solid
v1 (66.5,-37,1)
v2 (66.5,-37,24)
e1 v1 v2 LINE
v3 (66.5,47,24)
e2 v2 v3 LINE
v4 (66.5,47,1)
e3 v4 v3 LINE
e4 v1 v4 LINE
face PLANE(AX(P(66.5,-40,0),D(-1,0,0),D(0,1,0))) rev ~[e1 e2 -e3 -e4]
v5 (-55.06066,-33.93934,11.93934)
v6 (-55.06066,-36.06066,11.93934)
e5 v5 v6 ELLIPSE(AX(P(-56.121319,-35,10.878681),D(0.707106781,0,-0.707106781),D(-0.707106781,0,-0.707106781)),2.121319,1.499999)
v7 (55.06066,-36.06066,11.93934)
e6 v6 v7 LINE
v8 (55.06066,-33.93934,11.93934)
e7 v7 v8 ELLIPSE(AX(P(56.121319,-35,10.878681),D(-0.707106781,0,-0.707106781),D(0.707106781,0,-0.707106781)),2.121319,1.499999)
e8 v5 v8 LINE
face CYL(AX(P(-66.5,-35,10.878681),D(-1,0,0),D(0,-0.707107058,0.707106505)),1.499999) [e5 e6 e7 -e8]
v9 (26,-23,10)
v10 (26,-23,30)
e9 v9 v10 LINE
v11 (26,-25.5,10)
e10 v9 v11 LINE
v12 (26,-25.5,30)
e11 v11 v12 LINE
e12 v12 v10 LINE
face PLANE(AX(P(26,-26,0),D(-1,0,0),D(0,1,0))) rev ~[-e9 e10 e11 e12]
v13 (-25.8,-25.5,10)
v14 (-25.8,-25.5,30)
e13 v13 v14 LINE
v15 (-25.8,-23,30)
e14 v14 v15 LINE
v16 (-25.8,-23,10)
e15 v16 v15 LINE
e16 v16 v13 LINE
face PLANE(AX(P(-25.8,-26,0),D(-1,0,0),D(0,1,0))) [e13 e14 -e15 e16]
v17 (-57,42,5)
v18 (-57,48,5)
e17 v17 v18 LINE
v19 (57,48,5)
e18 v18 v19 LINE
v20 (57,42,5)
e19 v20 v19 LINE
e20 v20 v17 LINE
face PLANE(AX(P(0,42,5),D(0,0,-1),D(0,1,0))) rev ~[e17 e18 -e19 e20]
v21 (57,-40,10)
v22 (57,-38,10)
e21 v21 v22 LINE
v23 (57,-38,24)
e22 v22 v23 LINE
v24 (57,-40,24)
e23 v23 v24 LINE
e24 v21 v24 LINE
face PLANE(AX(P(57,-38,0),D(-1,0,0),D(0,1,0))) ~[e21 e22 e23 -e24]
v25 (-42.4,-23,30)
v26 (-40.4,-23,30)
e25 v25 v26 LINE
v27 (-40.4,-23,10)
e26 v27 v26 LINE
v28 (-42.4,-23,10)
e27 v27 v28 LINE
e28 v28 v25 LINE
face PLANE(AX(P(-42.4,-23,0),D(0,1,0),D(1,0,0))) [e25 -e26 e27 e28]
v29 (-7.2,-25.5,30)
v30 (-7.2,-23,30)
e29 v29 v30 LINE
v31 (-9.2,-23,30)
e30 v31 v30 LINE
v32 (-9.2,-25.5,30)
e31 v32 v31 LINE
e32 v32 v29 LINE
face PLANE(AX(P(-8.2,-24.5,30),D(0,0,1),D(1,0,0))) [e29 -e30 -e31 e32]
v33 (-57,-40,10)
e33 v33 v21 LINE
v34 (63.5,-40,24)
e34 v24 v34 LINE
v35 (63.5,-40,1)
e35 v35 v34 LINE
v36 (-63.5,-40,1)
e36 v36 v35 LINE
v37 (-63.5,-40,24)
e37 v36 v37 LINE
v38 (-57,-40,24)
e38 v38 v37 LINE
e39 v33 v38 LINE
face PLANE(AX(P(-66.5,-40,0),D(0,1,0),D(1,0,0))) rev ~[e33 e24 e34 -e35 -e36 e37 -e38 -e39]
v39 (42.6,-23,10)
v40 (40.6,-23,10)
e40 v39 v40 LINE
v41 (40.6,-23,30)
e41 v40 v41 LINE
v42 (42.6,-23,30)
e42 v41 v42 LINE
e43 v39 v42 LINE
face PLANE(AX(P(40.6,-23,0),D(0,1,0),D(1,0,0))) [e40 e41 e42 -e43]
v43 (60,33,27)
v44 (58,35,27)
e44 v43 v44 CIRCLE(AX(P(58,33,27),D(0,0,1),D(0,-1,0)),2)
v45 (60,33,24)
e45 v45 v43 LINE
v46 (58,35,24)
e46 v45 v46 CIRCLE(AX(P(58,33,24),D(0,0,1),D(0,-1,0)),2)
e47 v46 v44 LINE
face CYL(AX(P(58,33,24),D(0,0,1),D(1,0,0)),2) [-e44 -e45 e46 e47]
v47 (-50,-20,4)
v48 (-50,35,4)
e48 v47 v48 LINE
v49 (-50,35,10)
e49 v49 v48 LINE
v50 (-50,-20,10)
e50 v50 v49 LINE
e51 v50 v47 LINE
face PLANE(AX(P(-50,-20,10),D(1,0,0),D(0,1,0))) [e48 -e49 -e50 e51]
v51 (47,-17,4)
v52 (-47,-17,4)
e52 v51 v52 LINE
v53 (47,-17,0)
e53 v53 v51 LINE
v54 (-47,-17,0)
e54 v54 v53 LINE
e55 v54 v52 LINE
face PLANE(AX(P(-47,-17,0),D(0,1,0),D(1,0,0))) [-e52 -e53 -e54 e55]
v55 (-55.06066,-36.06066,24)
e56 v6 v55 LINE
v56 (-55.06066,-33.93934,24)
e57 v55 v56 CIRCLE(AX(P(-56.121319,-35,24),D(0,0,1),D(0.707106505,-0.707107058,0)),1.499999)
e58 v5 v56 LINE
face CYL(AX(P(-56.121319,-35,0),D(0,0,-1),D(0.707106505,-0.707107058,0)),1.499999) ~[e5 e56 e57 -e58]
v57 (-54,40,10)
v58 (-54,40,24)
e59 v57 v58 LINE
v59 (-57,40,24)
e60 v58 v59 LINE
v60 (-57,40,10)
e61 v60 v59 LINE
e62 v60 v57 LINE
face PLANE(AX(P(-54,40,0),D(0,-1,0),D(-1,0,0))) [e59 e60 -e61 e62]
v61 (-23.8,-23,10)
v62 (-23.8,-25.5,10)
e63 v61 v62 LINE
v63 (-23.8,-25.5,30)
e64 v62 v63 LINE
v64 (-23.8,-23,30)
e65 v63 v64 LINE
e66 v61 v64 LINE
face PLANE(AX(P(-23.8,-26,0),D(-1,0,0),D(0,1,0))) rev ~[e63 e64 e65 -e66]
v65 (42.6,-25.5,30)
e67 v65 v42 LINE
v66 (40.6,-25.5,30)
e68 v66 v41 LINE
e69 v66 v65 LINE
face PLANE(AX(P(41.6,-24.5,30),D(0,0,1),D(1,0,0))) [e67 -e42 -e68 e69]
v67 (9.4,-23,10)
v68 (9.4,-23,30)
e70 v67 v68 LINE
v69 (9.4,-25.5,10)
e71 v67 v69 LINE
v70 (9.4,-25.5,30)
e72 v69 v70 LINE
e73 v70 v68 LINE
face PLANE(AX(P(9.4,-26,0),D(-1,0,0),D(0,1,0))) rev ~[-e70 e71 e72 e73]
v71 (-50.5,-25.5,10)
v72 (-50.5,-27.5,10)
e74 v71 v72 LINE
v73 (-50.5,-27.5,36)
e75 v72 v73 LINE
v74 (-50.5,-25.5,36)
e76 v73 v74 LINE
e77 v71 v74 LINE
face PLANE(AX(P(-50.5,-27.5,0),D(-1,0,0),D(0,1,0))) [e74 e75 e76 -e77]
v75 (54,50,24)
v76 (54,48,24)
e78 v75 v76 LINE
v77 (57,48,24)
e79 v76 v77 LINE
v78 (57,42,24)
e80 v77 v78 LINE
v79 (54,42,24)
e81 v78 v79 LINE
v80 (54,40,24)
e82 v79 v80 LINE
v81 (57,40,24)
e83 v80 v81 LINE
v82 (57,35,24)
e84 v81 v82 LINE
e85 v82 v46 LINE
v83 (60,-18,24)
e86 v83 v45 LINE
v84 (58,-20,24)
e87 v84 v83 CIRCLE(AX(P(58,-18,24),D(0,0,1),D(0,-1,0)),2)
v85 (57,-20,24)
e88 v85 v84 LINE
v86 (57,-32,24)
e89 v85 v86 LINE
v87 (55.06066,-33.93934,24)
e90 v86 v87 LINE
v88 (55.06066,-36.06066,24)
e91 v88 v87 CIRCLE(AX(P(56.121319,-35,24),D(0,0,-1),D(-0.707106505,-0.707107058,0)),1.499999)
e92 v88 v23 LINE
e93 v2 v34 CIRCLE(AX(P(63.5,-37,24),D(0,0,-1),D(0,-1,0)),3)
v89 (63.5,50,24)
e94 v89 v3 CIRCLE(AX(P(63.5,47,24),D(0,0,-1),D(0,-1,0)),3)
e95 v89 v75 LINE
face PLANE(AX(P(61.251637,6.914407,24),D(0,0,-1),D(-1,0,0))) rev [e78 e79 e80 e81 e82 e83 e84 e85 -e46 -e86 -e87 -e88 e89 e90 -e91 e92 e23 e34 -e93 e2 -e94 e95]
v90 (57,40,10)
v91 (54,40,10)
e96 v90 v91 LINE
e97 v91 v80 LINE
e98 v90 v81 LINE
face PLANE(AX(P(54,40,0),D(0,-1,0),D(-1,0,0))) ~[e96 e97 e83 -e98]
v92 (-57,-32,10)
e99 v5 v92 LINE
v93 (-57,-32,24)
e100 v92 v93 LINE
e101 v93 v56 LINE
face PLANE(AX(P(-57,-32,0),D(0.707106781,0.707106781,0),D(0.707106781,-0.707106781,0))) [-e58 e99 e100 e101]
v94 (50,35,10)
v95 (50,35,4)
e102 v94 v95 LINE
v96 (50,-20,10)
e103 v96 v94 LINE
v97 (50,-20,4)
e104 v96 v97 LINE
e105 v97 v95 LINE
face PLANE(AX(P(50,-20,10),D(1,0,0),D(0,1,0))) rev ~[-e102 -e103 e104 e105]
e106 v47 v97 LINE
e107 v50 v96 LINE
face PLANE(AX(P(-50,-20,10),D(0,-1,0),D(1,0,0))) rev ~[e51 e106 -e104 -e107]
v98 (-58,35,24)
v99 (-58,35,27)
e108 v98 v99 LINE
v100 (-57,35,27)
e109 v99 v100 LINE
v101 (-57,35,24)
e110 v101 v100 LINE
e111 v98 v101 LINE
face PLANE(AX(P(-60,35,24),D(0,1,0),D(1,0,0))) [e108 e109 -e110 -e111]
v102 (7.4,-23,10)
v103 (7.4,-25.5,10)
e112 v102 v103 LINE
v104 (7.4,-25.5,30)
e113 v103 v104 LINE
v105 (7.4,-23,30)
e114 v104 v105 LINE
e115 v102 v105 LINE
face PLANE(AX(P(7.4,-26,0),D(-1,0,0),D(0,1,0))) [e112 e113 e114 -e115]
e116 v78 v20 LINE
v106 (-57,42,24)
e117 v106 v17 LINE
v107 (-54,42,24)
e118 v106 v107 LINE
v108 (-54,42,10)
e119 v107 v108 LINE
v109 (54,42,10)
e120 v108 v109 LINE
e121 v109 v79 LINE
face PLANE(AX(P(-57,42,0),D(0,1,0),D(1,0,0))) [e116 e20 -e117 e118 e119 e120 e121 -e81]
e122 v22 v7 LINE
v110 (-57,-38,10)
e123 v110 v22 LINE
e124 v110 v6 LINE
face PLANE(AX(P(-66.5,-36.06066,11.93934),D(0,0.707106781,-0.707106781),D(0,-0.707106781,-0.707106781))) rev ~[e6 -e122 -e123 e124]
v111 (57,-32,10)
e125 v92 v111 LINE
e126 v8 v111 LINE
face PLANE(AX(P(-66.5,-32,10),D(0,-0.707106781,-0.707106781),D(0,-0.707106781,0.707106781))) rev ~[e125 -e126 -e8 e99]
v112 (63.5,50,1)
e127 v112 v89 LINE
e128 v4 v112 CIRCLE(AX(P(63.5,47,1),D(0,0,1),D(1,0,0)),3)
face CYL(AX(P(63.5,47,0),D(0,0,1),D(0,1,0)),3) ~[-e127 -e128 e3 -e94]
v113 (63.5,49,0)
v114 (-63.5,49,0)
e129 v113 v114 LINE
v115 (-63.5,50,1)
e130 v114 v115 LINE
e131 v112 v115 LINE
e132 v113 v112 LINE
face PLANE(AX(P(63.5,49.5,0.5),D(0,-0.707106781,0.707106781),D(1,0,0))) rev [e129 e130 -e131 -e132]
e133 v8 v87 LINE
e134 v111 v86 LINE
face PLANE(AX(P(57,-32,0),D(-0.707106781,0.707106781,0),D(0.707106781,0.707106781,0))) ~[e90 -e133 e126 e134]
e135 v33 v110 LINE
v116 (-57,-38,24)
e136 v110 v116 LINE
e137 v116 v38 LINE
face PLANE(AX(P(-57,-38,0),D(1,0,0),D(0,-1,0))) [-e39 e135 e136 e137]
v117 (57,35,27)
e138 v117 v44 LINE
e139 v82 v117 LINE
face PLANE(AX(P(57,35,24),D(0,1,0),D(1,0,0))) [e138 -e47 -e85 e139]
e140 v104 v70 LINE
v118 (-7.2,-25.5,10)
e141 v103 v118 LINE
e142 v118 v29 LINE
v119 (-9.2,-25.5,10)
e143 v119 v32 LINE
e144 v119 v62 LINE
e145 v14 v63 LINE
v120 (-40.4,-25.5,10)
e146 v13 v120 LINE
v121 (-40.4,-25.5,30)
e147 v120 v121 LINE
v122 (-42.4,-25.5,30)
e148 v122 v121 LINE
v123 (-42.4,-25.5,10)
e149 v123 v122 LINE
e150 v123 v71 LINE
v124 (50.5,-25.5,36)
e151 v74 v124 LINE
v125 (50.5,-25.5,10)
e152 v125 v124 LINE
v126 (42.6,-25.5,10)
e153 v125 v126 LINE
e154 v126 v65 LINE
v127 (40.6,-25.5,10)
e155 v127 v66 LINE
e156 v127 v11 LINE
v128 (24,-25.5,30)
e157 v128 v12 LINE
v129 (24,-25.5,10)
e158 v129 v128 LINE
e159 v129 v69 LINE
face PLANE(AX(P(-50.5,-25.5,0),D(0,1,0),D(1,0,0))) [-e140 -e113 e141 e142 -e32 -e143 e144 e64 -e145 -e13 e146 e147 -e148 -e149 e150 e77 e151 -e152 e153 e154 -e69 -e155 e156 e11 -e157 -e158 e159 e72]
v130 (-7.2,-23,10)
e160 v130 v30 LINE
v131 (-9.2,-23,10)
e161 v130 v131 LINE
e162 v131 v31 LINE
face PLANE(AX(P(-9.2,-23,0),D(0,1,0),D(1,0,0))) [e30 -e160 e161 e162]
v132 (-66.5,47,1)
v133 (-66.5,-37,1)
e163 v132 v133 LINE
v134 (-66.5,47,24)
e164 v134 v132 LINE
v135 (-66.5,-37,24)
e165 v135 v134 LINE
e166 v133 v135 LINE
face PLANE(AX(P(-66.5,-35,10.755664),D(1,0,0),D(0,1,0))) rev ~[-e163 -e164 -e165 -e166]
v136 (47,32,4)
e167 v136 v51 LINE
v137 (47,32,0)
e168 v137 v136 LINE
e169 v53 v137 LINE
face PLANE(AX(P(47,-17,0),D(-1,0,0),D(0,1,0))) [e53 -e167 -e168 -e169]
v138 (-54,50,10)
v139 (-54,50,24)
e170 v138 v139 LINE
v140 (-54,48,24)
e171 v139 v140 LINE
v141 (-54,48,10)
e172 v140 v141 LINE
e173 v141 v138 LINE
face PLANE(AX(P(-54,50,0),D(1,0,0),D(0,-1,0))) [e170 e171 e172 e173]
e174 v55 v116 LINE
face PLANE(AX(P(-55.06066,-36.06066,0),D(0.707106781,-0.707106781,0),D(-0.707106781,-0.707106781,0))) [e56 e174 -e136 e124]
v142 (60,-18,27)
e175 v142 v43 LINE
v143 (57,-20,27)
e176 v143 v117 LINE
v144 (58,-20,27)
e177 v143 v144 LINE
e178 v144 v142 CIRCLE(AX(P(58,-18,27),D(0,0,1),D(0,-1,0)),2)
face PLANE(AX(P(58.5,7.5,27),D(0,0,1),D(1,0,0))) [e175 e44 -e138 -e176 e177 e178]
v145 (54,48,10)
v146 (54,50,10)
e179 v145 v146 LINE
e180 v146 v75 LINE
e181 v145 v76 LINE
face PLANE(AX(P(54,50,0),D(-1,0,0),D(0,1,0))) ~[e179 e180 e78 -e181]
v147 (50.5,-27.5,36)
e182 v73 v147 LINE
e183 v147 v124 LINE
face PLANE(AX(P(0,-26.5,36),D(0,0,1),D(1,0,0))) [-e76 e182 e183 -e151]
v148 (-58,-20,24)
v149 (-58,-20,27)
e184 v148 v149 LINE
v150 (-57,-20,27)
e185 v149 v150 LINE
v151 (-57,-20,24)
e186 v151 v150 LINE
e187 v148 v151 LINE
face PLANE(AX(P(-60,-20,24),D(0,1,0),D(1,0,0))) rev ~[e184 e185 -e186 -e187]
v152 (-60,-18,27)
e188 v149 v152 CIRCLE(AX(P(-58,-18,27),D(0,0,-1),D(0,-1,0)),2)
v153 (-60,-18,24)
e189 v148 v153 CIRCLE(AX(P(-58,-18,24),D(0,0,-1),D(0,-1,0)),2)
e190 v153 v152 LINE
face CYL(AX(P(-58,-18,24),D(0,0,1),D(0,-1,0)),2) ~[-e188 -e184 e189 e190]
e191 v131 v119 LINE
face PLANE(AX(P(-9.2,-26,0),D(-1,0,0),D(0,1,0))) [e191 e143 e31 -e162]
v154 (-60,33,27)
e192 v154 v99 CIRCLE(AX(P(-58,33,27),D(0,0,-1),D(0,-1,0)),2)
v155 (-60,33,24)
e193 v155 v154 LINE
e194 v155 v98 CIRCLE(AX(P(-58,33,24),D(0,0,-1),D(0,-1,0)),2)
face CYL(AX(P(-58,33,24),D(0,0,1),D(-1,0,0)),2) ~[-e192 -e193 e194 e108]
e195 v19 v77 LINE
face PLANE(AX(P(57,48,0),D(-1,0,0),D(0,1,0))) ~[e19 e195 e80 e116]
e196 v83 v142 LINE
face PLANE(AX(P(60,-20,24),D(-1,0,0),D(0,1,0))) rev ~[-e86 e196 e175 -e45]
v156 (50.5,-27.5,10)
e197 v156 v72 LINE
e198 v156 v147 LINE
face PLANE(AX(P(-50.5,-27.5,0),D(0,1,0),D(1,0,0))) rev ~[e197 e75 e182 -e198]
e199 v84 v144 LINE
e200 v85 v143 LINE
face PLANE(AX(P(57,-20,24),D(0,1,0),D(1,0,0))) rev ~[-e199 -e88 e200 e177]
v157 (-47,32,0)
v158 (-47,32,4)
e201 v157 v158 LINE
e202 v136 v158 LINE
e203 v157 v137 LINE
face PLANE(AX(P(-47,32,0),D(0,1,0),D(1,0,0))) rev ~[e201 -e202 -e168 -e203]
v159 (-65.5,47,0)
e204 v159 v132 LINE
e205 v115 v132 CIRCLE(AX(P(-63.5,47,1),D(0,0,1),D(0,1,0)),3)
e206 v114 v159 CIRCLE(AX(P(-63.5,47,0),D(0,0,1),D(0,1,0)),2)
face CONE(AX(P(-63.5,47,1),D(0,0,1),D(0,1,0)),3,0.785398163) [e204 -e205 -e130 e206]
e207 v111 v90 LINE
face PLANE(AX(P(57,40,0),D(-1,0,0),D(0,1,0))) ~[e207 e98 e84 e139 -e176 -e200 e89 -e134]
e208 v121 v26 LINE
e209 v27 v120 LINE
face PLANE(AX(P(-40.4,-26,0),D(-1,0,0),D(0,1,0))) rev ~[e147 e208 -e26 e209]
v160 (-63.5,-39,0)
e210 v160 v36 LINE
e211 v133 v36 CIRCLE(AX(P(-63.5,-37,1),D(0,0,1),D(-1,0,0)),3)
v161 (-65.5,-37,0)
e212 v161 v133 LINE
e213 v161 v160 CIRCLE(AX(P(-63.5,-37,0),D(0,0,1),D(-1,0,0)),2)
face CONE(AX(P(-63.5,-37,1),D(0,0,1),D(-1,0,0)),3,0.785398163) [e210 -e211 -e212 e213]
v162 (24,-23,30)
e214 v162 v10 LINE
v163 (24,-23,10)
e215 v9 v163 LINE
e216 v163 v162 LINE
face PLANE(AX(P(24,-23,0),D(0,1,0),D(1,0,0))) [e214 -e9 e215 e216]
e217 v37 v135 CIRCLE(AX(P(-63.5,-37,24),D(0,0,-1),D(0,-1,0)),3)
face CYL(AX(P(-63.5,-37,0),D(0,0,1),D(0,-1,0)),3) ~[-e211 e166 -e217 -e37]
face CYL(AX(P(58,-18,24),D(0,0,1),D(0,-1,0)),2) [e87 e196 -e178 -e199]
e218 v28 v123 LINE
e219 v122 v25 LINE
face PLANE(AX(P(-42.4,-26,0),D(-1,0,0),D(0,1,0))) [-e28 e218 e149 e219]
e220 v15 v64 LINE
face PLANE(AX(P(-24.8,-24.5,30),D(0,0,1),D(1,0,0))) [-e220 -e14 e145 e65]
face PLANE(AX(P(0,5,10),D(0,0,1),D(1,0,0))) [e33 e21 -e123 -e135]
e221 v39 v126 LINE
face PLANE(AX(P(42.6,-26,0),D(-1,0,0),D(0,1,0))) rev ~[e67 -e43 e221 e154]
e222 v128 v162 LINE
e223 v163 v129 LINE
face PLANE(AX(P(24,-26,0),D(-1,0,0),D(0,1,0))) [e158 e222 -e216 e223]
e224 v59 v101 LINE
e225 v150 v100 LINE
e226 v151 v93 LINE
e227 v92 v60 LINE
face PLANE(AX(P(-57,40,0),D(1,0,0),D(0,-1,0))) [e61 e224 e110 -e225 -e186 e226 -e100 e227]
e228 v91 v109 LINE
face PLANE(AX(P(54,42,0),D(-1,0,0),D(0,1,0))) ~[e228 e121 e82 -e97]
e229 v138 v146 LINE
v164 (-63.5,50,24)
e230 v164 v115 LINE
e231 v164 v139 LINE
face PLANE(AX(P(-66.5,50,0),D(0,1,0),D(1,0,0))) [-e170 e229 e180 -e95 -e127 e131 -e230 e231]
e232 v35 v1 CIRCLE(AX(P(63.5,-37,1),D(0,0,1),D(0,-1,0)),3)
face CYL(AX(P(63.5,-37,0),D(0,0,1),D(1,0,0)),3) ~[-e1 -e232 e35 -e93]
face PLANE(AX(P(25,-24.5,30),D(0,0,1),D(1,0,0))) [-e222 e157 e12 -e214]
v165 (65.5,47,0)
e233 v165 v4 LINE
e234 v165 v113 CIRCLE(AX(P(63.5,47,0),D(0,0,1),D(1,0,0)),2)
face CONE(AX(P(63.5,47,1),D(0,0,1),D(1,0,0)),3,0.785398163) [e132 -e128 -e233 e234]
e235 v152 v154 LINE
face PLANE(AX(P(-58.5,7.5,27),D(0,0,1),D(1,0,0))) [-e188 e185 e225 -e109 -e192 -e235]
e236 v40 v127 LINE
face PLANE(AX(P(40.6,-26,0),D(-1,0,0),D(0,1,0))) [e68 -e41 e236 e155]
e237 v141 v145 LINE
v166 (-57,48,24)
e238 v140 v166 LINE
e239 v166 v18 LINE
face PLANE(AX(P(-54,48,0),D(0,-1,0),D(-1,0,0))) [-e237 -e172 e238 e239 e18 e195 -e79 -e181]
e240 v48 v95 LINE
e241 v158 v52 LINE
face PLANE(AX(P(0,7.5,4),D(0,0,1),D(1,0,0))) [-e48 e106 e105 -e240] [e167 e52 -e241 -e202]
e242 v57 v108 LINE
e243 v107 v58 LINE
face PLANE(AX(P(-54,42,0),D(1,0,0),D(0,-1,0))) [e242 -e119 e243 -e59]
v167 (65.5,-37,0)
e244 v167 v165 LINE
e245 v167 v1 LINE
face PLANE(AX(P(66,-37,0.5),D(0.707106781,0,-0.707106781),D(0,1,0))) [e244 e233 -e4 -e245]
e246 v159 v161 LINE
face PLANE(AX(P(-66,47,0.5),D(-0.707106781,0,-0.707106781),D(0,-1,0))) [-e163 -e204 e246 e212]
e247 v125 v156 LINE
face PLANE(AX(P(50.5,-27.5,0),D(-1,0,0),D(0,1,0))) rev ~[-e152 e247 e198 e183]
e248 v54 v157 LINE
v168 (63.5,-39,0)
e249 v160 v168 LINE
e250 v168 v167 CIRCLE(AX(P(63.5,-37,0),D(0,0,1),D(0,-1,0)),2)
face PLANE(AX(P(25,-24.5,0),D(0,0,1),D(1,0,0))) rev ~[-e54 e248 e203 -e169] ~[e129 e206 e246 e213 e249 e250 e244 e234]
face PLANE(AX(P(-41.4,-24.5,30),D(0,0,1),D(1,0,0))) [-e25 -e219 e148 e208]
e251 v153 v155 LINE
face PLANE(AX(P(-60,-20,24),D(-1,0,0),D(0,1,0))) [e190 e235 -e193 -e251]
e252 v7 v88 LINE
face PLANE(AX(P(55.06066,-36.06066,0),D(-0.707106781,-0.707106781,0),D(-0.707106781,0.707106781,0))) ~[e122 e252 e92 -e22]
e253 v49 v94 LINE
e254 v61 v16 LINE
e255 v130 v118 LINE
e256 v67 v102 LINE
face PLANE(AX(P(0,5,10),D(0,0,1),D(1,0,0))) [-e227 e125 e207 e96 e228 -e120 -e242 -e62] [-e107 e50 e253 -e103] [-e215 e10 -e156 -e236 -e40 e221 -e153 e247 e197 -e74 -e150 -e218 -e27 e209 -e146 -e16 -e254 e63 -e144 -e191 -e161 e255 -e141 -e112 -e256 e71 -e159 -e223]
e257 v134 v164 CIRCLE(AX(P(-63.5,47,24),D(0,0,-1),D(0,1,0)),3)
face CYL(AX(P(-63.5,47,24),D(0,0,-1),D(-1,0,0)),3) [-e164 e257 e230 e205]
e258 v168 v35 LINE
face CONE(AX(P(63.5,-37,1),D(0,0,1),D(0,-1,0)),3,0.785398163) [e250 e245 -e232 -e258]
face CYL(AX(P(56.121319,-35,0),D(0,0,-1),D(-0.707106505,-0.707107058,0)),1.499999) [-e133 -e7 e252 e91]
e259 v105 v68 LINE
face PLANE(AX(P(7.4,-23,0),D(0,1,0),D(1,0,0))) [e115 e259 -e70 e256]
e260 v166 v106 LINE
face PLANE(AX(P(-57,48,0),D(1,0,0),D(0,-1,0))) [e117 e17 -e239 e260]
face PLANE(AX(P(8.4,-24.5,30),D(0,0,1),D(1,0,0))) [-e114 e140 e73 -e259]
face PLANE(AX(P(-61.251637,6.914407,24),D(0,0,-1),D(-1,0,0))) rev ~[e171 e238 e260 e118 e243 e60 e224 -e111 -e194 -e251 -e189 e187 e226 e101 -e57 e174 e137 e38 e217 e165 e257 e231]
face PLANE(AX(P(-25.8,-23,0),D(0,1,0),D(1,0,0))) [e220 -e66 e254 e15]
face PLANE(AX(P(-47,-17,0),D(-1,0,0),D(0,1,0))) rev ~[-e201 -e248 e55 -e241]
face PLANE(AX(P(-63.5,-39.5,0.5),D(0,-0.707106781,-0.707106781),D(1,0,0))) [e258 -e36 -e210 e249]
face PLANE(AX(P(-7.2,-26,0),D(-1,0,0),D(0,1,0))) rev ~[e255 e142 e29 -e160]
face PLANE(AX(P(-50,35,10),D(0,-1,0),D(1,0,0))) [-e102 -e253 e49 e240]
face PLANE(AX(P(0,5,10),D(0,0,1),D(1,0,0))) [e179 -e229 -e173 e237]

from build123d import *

# Parameters (mm, degrees)
SKETCH_W             = 133
SKETCH_H             = 90
PAD_DEPTH            = 10
PAD001_DEPTH         = 24
PAD002_DEPTH         = 133
SKETCH003_W          = 101
SKETCH003_H          = 2
PAD003_DEPTH         = 36
SKETCH004_W          = 2
SKETCH004_H          = 3
PAD004_DEPTH         = 30
LINEARPATTERN_COUNT  = 6
LINEARPATTERN_PITCH  = 16.6
SKETCH005_W          = 100
SKETCH005_H          = 55
POCKET_DEPTH         = 6
SKETCH006_W          = 94
SKETCH006_H          = 49
POCKET001_DEPTH      = 36.001
SKETCH007_W          = 6
SKETCH007_H          = 6
POCKET002_DEPTH      = 57
POCKET002_DEPTH_BACK = -57
FILLET_R             = 3
FILLET001_R          = 3
CHAMFER_SIZE         = 1
SKETCH008_W          = 3
SKETCH008_H          = 55
PAD005_DEPTH         = 3
FILLET002_R          = 2
FILLET003_R          = 2


with BuildPart() as part:
    # Sketch → Pad (new body)
    with BuildSketch(Plane.XY):
        with Locations((0, 5)):
            Rectangle(SKETCH_W, SKETCH_H)
    extrude(amount=PAD_DEPTH)

    # Sketch001 → Pad001 (join)
    with BuildSketch(Plane.XY):
        with BuildLine():
            Line((-66.5, -40), (-66.5, 50))
            Line((-66.5, 50), (-54, 50))
            Line((-54, 50), (-54, 48))
            Line((-54, 48), (-57, 48))
            Line((-57, 48), (-57, 42))
            Line((-57, 42), (-54, 42))
            Line((-54, 42), (-54, 40))
            Line((-54, 40), (-57, 40))
            Line((-57, 40), (-57, -32))
            Line((-57, -32), (-55.06066, -33.93934))
            ThreePointArc((-55.06066, -36.06066), (-54.62132, -35), (-55.06066, -33.93934))
            Line((-55.06066, -36.06066), (-57, -38))
            Line((-57, -38), (-57, -40))
            Line((-57, -40), (-66.5, -40))
        make_face()
    pad001 = extrude(amount=PAD001_DEPTH)

    # Mirrored: Pad001 across Sketch001 V_Axis
    add(pad001.mirror(Plane(origin=(0, 0, 0), x_dir=(0, 0, 1), z_dir=(1, 0, 0))))

    # Sketch002 (on Face10 of Mirrored) → Pad002 (join)
    with BuildSketch(Plane(origin=(-66.5, 0, 0), x_dir=(0, -1, 0), z_dir=(-1, 0, 0))):
        with BuildLine():
            Line((32, 10), (33.93934, 11.93934))
            ThreePointArc((36.06066, 11.93934), (35, 12.37868), (33.93934, 11.93934))
            Line((36.06066, 11.93934), (38, 10))
            Line((38, 10), (32, 10))
        make_face()
    extrude(amount=-PAD002_DEPTH)

    # Sketch003 → Pad003 (join)
    with BuildSketch(Plane.XY):
        with Locations((0, -26.5)):
            Rectangle(SKETCH003_W, SKETCH003_H)
    extrude(amount=PAD003_DEPTH)

    # Sketch004 → Pad004 (join)
    with BuildSketch(Plane.XY):
        with Locations((41.6, -24.5)):
            Rectangle(SKETCH004_W, SKETCH004_H)
    pad004 = extrude(amount=PAD004_DEPTH)

    # LinearPattern: Pad004 ×6
    with Locations(*[(-i * LINEARPATTERN_PITCH, 0, 0) for i in range(1, LINEARPATTERN_COUNT)]):
        add(pad004)

    # Sketch005 (on Face38 of LinearPattern) → Pocket (cut)
    with BuildSketch(Plane.XY.offset(10)):
        with Locations((0, 7.5)):
            Rectangle(SKETCH005_W, SKETCH005_H)
    extrude(amount=-POCKET_DEPTH, mode=Mode.SUBTRACT)

    # Sketch006 → Pocket001 (cut, through all)
    with BuildSketch(Plane.XY):
        with Locations((0, 7.5)):
            Rectangle(SKETCH006_W, SKETCH006_H)
    extrude(amount=POCKET001_DEPTH, mode=Mode.SUBTRACT)

    # Sketch007 → Pocket002 (cut, two sides)
    with BuildSketch(Plane.YZ) as pocket002_sk:
        with Locations((45, 8)):
            Rectangle(SKETCH007_W, SKETCH007_H)
    extrude(amount=-POCKET002_DEPTH, mode=Mode.SUBTRACT)
    extrude(pocket002_sk.sketch, amount=-POCKET002_DEPTH_BACK, mode=Mode.SUBTRACT)

    # Fillet
    fillet_edges = [part.edges().sort_by_distance(p)[0] for p in [
        (-66.5, -40, 17),
        (-66.5, -40, 5),
        (-66.5, 50, 17),
        (-66.5, 50, 5),
    ]]
    fillet(fillet_edges, radius=FILLET_R)

    # Fillet001
    fillet001_edges = [part.edges().sort_by_distance(p)[0] for p in [
        (66.5, 50, 17),
        (66.5, 50, 5),
        (66.5, -40, 17),
        (66.5, -40, 5),
    ]]
    fillet(fillet001_edges, radius=FILLET001_R)

    # Chamfer
    chamfer_edges = [part.edges().sort_by_distance(p)[0] for p in [
        (66.5, 5, 0),
        (65.62132, 49.12132, 0),
        (58.75, 50, 0),
        (0, 50, 0),
        (-58.75, 50, 0),
        (-65.62132, 49.12132, 0),
        (-66.5, 5, 0),
        (-65.62132, -39.12132, 0),
        (-60.25, -40, 0),
        (0, -40, 0),
        (60.25, -40, 0),
        (65.62132, -39.12132, 0),
    ]]
    chamfer(chamfer_edges, length=CHAMFER_SIZE)

    # Sketch008 (on Face13 of Chamfer) → Pad005 (join)
    with BuildSketch(Plane.XY.offset(24)):
        with Locations((58.5, 7.5)):
            Rectangle(SKETCH008_W, SKETCH008_H)
        with Locations((-58.5, 7.5)):
            Rectangle(SKETCH008_W, SKETCH008_H)
    extrude(amount=PAD005_DEPTH)

    # Fillet002
    fillet002_edges = [part.edges().sort_by_distance(p)[0] for p in [
        (60, -20, 25.5),
        (60, 35, 25.5),
    ]]
    fillet(fillet002_edges, radius=FILLET002_R)

    # Fillet003
    fillet003_edges = [part.edges().sort_by_distance(p)[0] for p in [
        (-60, -20, 25.5),
        (-60, 35, 25.5),
    ]]
    fillet(fillet003_edges, radius=FILLET003_R)


solid = part.part
